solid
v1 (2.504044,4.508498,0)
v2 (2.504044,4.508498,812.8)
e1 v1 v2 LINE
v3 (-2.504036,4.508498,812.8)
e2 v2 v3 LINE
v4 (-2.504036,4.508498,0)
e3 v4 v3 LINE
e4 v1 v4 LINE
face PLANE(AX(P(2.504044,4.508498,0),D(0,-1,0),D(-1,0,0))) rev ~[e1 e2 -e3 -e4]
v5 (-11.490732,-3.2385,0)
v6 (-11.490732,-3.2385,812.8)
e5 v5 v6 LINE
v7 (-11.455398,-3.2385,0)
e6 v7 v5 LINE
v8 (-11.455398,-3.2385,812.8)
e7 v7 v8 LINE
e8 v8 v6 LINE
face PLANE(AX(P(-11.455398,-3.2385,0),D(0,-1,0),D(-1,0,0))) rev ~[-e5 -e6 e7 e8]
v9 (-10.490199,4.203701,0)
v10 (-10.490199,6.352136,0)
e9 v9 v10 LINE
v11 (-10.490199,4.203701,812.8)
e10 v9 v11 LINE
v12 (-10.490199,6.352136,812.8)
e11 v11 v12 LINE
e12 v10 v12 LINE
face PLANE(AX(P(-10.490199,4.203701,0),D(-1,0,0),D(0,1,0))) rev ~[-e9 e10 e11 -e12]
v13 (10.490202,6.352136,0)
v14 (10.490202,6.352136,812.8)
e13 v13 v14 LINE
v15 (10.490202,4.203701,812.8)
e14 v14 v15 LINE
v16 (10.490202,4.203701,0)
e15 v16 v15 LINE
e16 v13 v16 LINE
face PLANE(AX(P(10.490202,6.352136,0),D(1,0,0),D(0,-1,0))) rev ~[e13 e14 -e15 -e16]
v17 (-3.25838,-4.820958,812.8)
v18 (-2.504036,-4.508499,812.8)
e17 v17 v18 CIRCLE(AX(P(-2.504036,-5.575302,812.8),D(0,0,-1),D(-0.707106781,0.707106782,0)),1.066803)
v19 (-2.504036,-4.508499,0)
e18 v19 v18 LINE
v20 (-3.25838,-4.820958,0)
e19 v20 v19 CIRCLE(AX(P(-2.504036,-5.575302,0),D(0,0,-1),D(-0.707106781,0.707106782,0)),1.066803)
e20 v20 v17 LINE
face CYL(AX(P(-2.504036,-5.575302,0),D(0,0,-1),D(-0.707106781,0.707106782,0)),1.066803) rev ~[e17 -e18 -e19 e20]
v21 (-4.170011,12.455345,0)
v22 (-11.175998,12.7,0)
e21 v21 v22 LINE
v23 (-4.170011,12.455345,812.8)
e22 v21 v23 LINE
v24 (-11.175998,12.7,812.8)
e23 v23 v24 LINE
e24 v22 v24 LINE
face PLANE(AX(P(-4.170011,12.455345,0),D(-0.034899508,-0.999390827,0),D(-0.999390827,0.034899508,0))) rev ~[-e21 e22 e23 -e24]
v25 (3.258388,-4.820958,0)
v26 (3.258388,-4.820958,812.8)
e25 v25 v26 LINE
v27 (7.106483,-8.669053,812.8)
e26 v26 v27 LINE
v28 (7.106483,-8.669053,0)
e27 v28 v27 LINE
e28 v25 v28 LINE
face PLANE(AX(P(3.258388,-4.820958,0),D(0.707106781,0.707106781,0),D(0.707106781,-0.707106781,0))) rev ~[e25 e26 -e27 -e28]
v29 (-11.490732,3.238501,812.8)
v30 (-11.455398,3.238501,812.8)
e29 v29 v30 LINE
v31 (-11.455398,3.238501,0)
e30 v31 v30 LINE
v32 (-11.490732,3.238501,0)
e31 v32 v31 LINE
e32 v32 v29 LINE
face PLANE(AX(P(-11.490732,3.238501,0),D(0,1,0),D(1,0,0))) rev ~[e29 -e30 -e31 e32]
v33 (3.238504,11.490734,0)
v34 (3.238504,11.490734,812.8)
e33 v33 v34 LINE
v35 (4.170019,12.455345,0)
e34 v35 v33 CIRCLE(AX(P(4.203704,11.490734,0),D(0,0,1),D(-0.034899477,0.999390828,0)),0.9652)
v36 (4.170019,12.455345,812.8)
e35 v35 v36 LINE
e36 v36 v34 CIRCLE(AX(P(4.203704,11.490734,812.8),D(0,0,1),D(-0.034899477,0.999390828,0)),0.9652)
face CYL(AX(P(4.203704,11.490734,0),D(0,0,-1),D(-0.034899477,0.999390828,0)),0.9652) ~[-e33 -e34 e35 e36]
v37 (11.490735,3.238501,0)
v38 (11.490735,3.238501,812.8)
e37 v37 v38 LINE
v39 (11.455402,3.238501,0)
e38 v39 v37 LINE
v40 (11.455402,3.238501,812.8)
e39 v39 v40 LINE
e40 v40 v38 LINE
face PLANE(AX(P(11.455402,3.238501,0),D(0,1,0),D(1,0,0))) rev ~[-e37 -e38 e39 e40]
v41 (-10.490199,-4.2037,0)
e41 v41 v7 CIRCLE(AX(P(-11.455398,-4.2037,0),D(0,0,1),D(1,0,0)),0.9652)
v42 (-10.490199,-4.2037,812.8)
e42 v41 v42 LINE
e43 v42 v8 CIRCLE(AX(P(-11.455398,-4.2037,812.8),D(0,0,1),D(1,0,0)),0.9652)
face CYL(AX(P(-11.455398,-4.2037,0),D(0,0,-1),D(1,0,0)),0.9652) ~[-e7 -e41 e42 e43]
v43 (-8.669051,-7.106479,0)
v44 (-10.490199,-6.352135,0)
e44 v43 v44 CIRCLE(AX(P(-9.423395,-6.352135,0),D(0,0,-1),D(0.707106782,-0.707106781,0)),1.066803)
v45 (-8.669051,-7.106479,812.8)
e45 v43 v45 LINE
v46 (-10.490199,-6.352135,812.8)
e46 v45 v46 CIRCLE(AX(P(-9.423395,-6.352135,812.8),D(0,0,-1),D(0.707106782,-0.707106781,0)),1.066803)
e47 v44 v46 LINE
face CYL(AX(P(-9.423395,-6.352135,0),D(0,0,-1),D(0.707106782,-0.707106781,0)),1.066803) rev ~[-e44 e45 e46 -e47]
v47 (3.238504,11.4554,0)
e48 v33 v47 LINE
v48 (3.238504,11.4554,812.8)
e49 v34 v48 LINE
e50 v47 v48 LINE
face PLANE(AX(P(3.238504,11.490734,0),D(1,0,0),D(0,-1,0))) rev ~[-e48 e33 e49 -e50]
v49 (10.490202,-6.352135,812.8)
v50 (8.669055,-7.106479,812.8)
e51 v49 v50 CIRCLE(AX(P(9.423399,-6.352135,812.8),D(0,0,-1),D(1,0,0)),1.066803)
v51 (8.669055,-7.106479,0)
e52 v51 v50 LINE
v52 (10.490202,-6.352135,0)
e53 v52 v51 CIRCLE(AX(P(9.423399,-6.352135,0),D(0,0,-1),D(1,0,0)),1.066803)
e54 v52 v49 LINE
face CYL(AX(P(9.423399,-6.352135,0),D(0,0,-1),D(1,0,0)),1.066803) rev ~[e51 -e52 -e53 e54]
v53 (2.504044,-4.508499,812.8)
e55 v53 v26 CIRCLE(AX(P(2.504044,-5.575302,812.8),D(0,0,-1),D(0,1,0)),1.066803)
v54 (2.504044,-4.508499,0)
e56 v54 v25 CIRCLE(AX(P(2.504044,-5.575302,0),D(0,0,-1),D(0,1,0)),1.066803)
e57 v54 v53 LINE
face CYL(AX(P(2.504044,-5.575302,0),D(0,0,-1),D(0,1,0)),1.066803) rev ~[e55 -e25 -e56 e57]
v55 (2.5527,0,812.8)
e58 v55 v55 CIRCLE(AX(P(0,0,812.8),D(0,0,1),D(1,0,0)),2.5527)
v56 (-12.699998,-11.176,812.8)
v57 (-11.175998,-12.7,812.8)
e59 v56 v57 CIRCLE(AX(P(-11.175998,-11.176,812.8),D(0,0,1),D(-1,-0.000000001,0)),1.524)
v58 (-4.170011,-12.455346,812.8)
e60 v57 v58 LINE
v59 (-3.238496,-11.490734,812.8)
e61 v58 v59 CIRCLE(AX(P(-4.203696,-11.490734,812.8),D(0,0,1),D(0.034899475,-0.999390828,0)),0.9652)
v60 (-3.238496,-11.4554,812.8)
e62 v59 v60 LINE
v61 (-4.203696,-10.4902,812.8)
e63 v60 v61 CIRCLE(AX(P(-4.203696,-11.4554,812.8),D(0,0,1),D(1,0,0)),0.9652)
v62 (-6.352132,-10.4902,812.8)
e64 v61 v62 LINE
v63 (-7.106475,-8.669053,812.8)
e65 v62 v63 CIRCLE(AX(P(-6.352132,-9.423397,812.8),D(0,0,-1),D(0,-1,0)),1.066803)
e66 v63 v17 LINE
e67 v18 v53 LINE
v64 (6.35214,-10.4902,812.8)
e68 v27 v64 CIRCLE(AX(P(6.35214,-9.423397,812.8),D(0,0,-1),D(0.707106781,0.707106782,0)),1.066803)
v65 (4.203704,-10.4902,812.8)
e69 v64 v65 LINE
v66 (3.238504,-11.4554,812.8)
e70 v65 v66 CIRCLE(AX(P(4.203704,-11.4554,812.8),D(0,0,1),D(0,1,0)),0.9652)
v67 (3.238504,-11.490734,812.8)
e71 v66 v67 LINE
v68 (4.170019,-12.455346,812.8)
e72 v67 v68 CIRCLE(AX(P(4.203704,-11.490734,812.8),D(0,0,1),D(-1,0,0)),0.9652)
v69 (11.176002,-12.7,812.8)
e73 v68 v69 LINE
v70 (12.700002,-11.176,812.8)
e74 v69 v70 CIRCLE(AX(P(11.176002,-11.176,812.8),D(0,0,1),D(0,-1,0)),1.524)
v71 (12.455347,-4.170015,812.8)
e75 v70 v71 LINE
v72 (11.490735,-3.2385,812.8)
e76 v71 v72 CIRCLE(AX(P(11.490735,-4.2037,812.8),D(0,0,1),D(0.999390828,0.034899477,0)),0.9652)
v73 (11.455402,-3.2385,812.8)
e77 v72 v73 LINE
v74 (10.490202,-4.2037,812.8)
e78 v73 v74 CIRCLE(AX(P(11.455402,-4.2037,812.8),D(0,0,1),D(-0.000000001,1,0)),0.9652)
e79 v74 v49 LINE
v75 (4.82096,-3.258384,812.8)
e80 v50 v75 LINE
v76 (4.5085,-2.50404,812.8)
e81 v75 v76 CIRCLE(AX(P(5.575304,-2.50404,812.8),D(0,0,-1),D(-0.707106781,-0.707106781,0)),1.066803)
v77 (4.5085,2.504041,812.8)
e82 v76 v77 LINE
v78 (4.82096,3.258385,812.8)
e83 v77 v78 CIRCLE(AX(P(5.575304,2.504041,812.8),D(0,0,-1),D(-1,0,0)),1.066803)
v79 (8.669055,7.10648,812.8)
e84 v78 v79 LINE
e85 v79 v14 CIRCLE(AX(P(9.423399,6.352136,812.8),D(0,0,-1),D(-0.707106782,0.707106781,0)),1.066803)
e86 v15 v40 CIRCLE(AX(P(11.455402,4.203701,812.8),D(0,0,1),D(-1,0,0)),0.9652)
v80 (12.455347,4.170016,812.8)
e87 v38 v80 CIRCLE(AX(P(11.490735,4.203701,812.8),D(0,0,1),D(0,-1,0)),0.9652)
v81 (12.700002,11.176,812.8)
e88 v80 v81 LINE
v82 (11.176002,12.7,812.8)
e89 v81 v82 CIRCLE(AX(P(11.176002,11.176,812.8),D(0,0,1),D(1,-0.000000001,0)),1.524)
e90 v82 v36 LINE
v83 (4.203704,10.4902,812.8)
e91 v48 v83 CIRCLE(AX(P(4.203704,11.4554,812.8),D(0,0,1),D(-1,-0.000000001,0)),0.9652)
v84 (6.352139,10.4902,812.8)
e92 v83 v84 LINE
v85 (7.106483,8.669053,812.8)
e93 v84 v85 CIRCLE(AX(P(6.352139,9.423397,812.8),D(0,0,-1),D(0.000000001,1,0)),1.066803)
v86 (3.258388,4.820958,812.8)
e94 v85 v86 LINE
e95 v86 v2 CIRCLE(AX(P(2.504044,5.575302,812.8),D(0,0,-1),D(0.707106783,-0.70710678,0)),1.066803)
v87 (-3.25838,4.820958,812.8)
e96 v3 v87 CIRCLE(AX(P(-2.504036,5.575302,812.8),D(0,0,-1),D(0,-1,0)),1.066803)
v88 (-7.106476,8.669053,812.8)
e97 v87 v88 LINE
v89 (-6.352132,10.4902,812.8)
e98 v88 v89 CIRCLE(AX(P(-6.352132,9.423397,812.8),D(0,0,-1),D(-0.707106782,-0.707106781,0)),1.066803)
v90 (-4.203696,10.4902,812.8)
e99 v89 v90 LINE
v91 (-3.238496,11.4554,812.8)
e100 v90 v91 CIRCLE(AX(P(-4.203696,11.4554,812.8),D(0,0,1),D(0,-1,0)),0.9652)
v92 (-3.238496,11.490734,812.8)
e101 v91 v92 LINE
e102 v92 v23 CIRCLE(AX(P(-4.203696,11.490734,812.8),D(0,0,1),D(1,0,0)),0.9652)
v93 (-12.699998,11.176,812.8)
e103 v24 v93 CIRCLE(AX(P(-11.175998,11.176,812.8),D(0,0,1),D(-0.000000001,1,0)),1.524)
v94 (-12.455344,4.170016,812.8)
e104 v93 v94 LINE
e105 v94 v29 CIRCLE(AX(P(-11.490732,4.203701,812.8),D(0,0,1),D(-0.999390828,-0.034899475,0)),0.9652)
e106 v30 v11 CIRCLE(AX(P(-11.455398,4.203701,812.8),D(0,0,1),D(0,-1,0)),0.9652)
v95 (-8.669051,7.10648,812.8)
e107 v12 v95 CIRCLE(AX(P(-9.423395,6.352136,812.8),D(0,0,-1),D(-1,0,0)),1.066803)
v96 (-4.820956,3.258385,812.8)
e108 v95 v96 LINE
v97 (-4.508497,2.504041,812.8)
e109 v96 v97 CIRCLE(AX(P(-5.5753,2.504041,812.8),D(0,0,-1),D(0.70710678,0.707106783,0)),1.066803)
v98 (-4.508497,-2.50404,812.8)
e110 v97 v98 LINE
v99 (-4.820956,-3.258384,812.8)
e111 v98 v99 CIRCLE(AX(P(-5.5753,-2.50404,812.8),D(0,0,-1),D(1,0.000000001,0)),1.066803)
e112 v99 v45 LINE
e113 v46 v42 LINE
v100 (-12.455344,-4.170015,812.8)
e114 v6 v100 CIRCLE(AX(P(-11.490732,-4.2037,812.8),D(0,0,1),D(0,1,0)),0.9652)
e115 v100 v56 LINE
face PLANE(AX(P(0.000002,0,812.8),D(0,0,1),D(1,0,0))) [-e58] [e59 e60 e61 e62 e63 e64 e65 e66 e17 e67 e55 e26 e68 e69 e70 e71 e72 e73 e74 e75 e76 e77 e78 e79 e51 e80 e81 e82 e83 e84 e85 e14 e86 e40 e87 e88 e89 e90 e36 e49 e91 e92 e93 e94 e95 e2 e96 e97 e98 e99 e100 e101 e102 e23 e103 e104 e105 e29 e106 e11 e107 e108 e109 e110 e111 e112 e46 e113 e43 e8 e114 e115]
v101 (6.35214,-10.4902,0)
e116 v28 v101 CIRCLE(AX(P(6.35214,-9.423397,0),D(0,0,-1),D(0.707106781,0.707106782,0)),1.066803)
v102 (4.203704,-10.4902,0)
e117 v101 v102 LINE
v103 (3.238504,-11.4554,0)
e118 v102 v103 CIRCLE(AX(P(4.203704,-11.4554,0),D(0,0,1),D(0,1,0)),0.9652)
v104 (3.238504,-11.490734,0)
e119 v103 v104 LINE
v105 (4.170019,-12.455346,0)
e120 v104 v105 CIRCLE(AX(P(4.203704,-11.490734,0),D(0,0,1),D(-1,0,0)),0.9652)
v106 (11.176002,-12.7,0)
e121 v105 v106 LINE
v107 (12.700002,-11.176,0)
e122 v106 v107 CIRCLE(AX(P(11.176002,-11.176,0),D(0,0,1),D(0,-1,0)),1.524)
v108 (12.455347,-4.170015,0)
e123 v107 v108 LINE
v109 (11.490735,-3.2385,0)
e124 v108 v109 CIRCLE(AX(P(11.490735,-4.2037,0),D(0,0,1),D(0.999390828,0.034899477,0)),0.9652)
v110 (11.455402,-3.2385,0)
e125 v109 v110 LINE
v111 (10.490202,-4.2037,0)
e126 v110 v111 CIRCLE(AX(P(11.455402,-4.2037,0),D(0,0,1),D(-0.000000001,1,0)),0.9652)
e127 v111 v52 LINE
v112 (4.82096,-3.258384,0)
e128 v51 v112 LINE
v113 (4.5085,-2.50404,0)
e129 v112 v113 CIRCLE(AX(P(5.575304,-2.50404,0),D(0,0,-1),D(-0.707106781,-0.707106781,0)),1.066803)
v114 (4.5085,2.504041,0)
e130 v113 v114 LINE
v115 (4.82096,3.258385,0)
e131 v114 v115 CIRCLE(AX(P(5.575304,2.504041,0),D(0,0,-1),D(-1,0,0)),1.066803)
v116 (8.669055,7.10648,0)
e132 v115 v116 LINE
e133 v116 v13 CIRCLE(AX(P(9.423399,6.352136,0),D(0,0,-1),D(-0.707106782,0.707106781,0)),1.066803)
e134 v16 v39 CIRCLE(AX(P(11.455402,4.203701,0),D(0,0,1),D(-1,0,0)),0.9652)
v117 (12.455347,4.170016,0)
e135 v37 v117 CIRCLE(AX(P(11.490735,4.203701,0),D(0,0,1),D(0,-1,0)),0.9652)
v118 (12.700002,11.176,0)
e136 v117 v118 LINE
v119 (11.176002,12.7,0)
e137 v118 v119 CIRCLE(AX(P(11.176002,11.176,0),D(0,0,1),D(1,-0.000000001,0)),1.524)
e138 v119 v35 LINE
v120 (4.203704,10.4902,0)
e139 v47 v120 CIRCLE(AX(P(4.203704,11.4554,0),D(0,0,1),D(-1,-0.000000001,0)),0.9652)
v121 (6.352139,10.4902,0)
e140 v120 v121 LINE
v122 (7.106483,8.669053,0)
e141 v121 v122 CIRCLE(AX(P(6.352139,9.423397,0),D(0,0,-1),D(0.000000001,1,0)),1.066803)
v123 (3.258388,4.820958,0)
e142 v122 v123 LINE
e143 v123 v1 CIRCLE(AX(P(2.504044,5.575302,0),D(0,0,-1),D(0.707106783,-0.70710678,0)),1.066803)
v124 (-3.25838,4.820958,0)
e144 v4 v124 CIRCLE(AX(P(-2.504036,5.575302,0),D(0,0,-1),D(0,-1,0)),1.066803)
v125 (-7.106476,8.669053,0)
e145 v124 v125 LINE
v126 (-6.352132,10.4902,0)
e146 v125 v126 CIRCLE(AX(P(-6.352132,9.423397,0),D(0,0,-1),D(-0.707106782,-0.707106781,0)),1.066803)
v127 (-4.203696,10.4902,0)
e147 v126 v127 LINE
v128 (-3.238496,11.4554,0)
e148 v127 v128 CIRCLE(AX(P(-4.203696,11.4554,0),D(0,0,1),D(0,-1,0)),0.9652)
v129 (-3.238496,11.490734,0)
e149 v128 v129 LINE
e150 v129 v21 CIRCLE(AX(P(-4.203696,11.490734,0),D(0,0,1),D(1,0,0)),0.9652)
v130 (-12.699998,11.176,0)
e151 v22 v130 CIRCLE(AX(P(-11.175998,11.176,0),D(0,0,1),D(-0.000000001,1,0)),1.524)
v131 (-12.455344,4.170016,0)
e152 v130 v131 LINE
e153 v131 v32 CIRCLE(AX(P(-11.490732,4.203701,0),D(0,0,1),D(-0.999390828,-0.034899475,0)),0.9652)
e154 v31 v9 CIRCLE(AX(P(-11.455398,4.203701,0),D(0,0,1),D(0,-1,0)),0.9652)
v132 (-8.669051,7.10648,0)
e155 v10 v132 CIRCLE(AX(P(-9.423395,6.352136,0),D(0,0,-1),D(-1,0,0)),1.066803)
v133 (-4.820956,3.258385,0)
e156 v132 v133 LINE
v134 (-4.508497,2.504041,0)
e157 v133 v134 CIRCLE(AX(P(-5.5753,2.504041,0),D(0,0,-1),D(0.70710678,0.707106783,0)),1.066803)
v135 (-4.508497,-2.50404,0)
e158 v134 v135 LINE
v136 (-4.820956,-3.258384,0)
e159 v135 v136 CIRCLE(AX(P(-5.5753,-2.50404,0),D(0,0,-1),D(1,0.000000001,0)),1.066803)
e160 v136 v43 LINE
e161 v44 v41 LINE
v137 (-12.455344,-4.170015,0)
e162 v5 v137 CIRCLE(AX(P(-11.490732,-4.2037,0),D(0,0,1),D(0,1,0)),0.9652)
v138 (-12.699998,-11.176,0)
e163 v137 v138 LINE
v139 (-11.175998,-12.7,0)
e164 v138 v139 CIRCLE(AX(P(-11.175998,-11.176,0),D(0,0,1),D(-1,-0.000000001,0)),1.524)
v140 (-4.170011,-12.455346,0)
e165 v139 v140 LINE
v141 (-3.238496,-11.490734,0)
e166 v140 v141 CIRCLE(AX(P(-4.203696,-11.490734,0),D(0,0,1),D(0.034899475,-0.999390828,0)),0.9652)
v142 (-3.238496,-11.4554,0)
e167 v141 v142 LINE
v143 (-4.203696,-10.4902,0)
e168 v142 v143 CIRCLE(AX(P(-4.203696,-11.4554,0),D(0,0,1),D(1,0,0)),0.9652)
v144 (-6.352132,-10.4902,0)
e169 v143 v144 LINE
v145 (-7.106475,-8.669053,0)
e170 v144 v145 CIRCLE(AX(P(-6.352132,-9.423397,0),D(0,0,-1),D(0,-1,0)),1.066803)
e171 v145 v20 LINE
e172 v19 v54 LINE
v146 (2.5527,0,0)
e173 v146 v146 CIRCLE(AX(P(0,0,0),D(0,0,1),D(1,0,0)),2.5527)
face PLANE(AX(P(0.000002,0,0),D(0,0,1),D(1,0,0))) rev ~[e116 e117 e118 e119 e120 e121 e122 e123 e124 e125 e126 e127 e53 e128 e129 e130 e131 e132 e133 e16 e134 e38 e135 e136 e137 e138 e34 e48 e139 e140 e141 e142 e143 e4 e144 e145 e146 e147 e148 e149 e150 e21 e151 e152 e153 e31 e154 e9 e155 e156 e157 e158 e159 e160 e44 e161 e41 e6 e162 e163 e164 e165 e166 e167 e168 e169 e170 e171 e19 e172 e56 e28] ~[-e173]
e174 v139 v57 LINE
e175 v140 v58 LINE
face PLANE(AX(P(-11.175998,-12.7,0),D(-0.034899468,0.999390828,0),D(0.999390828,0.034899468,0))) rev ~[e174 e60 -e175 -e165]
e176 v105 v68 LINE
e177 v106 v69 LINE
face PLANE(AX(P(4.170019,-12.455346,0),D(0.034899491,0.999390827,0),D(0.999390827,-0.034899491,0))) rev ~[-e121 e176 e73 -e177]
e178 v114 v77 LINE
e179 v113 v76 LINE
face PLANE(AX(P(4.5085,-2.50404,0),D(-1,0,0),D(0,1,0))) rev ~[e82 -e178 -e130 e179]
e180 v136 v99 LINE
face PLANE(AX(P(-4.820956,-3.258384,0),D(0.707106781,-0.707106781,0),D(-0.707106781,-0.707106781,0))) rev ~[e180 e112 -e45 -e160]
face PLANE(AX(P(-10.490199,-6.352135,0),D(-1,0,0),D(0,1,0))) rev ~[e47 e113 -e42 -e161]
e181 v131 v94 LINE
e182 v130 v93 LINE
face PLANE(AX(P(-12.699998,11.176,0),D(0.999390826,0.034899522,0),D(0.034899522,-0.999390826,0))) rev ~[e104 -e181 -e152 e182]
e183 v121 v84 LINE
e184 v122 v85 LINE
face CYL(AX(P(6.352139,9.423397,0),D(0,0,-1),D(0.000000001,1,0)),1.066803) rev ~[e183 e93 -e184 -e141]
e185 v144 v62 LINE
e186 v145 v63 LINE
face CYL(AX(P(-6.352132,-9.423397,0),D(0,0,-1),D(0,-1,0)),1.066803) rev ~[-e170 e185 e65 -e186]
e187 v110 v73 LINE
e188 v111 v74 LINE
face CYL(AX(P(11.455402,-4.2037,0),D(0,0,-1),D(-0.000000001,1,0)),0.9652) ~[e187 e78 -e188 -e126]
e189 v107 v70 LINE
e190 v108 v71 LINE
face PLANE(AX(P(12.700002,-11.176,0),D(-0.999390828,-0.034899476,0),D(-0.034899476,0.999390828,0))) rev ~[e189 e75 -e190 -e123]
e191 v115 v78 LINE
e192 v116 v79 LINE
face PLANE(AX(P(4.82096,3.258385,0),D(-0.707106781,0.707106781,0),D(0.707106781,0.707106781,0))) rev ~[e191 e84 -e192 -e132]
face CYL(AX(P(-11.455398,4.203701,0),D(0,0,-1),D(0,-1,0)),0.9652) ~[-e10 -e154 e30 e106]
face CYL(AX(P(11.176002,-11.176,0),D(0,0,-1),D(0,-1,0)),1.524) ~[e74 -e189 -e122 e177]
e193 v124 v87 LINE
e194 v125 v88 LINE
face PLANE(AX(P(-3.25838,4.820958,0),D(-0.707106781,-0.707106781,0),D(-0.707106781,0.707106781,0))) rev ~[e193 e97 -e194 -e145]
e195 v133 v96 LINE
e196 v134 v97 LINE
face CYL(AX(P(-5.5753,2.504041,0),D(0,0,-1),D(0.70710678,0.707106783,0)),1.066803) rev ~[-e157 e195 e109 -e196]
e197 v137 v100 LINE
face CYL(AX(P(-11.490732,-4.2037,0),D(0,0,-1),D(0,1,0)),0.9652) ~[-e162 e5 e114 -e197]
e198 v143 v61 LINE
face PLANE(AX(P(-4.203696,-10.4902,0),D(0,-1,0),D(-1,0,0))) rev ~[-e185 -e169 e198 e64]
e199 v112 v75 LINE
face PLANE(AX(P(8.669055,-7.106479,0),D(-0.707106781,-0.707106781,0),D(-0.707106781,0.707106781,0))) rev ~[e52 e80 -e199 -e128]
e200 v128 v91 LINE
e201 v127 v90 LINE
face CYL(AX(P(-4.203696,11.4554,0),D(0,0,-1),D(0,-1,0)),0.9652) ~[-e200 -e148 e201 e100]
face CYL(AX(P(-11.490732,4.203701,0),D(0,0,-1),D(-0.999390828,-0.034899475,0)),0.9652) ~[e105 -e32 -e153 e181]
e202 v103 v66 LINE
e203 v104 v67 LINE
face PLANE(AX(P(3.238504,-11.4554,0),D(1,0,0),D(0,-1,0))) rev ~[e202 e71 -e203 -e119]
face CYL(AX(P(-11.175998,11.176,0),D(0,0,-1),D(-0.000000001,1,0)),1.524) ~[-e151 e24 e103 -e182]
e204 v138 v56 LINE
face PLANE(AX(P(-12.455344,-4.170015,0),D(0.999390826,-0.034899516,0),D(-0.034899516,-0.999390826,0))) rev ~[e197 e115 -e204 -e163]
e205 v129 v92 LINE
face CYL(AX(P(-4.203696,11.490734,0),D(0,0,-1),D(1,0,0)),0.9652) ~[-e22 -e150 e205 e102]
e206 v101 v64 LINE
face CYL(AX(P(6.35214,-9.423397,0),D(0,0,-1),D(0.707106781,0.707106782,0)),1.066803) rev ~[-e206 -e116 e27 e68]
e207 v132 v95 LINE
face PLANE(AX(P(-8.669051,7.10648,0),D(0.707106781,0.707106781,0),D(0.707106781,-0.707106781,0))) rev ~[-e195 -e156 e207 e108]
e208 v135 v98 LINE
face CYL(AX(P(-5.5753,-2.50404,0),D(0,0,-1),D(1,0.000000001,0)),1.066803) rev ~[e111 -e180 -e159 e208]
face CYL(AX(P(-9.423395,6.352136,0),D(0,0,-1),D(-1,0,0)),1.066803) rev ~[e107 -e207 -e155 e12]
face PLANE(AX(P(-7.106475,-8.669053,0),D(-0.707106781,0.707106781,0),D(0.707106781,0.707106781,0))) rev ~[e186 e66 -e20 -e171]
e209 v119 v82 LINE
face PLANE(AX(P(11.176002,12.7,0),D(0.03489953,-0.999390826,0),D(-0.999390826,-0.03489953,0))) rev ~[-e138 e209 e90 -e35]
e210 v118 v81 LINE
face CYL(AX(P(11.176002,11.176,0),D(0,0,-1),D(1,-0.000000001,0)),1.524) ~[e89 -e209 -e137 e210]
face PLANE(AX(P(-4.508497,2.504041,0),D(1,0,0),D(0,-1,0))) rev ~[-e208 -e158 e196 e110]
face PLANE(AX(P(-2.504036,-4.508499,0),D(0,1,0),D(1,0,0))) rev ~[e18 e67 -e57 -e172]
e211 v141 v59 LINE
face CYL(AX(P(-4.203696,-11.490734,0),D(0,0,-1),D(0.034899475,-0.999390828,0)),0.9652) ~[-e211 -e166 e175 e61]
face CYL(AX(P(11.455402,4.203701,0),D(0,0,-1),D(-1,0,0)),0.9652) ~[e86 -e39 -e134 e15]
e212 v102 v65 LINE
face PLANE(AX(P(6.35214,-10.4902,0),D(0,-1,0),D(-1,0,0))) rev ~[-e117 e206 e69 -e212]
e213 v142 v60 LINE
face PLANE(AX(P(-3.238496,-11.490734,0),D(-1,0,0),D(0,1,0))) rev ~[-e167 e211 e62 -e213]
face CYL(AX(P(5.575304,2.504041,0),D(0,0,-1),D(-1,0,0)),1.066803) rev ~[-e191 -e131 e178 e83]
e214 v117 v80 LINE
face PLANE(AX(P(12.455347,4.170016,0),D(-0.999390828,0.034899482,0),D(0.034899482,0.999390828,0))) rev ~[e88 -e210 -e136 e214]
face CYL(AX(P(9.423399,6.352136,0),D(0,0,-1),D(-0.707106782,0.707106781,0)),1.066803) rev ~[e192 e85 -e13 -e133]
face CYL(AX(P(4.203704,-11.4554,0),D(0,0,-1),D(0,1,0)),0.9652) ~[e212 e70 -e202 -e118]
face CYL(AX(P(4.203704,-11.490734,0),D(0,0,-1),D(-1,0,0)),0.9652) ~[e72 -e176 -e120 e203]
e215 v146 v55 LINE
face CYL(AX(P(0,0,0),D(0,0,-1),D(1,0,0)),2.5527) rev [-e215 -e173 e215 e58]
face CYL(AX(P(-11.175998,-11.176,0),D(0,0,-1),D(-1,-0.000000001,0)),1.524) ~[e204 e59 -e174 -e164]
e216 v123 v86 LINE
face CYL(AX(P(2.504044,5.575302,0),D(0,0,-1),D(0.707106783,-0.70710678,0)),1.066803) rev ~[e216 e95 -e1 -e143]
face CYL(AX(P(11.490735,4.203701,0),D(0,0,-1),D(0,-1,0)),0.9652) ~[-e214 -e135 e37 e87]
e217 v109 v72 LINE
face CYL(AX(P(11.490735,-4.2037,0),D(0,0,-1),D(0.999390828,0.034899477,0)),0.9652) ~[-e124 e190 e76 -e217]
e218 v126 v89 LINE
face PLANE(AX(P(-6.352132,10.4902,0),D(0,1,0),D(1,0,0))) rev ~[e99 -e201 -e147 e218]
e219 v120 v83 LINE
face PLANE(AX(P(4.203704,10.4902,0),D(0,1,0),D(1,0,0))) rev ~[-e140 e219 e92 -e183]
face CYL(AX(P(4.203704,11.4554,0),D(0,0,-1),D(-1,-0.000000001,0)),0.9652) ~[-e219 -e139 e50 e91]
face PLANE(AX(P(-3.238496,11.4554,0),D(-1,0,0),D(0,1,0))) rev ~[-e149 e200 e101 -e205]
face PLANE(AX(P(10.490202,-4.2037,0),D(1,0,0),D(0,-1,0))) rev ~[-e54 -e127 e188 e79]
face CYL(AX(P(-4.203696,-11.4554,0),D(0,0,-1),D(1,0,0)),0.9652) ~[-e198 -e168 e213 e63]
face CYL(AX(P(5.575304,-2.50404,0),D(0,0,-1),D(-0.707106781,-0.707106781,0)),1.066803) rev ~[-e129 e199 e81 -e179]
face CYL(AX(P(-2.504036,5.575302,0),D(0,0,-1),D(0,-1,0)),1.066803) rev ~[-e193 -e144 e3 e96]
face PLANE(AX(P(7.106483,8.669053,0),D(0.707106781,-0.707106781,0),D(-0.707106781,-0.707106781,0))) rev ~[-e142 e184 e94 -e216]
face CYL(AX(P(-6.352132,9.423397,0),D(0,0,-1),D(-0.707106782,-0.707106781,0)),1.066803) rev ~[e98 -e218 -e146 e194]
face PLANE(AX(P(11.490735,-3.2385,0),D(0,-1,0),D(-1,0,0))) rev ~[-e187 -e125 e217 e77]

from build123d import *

# Parameters (mm, degrees)
SKETCH1_R      = 2.5527
EXTRUDE1_DEPTH = 812.8


with BuildPart() as part:
    # Sketch1 → Extrude1 (new body)
    with BuildSketch(Plane.XY):
        with BuildLine():
            Line((3.238504286, -11.455400345), (3.238504286, -11.49073383))
            ThreePointArc((3.238504286, -11.49073383), (3.509397472, -12.161218003), (4.170019162, -12.455345741))
            Line((4.170019162, -12.455345741), (11.176001705, -12.7))
            ThreePointArc((11.176001705, -12.7), (12.253632411, -12.253630746), (12.700001664, -11.17600004))
            Line((12.700001664, -11.17600004), (12.455347406, -4.170014669))
            ThreePointArc((12.455347406, -4.170014669), (12.16121968, -3.509392954), (11.490735494, -3.238499755))
            Line((11.490735494, -3.238499755), (11.455402009, -3.238499755))
            ThreePointArc((11.455402009, -3.238499755), (10.772902626, -3.521200256), (10.490202125, -4.20369964))
            Line((10.490202125, -4.20369964), (10.490202125, -6.352134987))
            ThreePointArc((10.490202125, -6.352134987), (9.831646779, -7.337732713), (8.669054992, -7.106478829))
            Line((8.669054992, -7.106478829), (4.820959759, -3.258383596))
            ThreePointArc((4.820959759, -3.258383596), (4.589705874, -2.912287699), (4.508500309, -2.504039754))
            Line((4.508500309, -2.504039754), (4.508500309, 2.504040946))
            ThreePointArc((4.508500309, 2.504040946), (4.589705874, 2.912288891), (4.820959759, 3.258384788))
            Line((4.820959759, 3.258384788), (8.669054992, 7.106480021))
            ThreePointArc((8.669054992, 7.106480021), (9.831646779, 7.337733906), (10.490202125, 6.35213618))
            Line((10.490202125, 6.35213618), (10.490202125, 4.203700832))
            ThreePointArc((10.490202125, 4.203700832), (10.772902626, 3.521201448), (11.455402009, 3.238500947))
            Line((11.455402009, 3.238500947), (11.490735494, 3.238500947))
            ThreePointArc((11.490735494, 3.238500947), (12.161219667, 3.509394133), (12.455347406, 4.170015823))
            Line((12.455347406, 4.170015823), (12.700001664, 11.176000039))
            ThreePointArc((12.700001664, 11.176000039), (12.253632411, 12.253630745), (11.176001705, 12.699999999))
            Line((11.176001705, 12.699999999), (4.170019162, 12.455345462))
            ThreePointArc((4.170019162, 12.455345462), (3.509397447, 12.161217736), (3.238504248, 11.49073355))
            Line((3.238504248, 11.49073355), (3.238504248, 11.455400065))
            ThreePointArc((3.238504248, 11.455400065), (3.521204749, 10.772900682), (4.203704132, 10.490200181))
            Line((4.203704132, 10.490200181), (6.35213948, 10.490200181))
            ThreePointArc((6.35213948, 10.490200181), (7.337737205, 9.831644835), (7.106483322, 8.669053049))
            Line((7.106483322, 8.669053049), (3.258388088, 4.820957816))
            ThreePointArc((3.258388088, 4.820957816), (2.912292192, 4.589703931), (2.504044247, 4.508498366))
            Line((2.504044247, 4.508498366), (-2.504036453, 4.508498366))
            ThreePointArc((-2.504036453, 4.508498366), (-2.912284398, 4.589703931), (-3.258380295, 4.820957816))
            Line((-3.258380295, 4.820957816), (-7.106475528, 8.669053049))
            ThreePointArc((-7.106475528, 8.669053049), (-7.337729412, 9.831644836), (-6.352131686, 10.490200182))
            Line((-6.352131686, 10.490200182), (-4.203696339, 10.490200182))
            ThreePointArc((-4.203696339, 10.490200182), (-3.521196955, 10.772900683), (-3.238496454, 11.455400067))
            Line((-3.238496454, 11.455400067), (-3.238496454, 11.490733551))
            ThreePointArc((-3.238496454, 11.490733551), (-3.50938964, 12.161217724), (-4.17001133, 12.455345462))
            Line((-4.17001133, 12.455345462), (-11.175998375, 12.699999999))
            ThreePointArc((-11.175998375, 12.699999999), (-12.253629081, 12.253630745), (-12.699998335, 11.176000039))
            Line((-12.699998335, 11.176000039), (-12.455343798, 4.170015823))
            ThreePointArc((-12.455343798, 4.170015823), (-12.161216073, 3.509394108), (-11.490731887, 3.238500909))
            Line((-11.490731887, 3.238500909), (-11.455398403, 3.238500909))
            ThreePointArc((-11.455398403, 3.238500909), (-10.772899019, 3.52120141), (-10.490198518, 4.203700793))
            Line((-10.490198518, 4.203700793), (-10.490198518, 6.352136141))
            ThreePointArc((-10.490198518, 6.352136141), (-9.831643172, 7.337733867), (-8.669051385, 7.106479983))
            Line((-8.669051385, 7.106479983), (-4.820956152, 3.258384749))
            ThreePointArc((-4.820956152, 3.258384749), (-4.589702267, 2.912288853), (-4.508496702, 2.504040908))
            Line((-4.508496702, 2.504040908), (-4.508496702, -2.504039793))
            ThreePointArc((-4.508496702, -2.504039793), (-4.589702267, -2.912287738), (-4.820956152, -3.258383634))
            Line((-4.820956152, -3.258383634), (-8.669051385, -7.106478867))
            ThreePointArc((-8.669051385, -7.106478867), (-9.831643172, -7.337732752), (-10.490198518, -6.352135026))
            Line((-10.490198518, -6.352135026), (-10.490198518, -4.203699678))
            ThreePointArc((-10.490198518, -4.203699678), (-10.772899019, -3.521200294), (-11.455398403, -3.238499793))
            Line((-11.455398403, -3.238499793), (-11.490731887, -3.238499793))
            ThreePointArc((-11.490731887, -3.238499793), (-12.16121606, -3.509392979), (-12.455343798, -4.170014669))
            Line((-12.455343798, -4.170014669), (-12.699998335, -11.17600004))
            ThreePointArc((-12.699998335, -11.17600004), (-12.253629081, -12.253630746), (-11.175998375, -12.7))
            Line((-11.175998375, -12.7), (-4.17001133, -12.455345741))
            ThreePointArc((-4.17001133, -12.455345741), (-3.509389615, -12.161218016), (-3.238496416, -11.49073383))
            Line((-3.238496416, -11.49073383), (-3.238496416, -11.455400345))
            ThreePointArc((-3.238496416, -11.455400345), (-3.521196917, -10.772900961), (-4.2036963, -10.49020046))
            Line((-4.2036963, -10.49020046), (-6.352131648, -10.49020046))
            ThreePointArc((-6.352131648, -10.49020046), (-7.337729374, -9.831645114), (-7.106475489, -8.669053328))
            Line((-7.106475489, -8.669053328), (-3.258380256, -4.820958094))
            ThreePointArc((-3.258380256, -4.820958094), (-2.91228436, -4.58970421), (-2.504036415, -4.508498645))
            Line((-2.504036415, -4.508498645), (2.504044285, -4.508498645))
            ThreePointArc((2.504044285, -4.508498645), (2.91229223, -4.58970421), (3.258388127, -4.820958094))
            Line((3.258388127, -4.820958094), (7.10648336, -8.669053328))
            ThreePointArc((7.10648336, -8.669053328), (7.337737245, -9.831645114), (6.352139519, -10.49020046))
            Line((6.352139519, -10.49020046), (4.203704171, -10.49020046))
            ThreePointArc((4.203704171, -10.49020046), (3.521204787, -10.772900961), (3.238504286, -11.455400345))
        make_face()
        Circle(SKETCH1_R, mode=Mode.SUBTRACT)
    extrude(amount=EXTRUDE1_DEPTH)


solid = part.part
